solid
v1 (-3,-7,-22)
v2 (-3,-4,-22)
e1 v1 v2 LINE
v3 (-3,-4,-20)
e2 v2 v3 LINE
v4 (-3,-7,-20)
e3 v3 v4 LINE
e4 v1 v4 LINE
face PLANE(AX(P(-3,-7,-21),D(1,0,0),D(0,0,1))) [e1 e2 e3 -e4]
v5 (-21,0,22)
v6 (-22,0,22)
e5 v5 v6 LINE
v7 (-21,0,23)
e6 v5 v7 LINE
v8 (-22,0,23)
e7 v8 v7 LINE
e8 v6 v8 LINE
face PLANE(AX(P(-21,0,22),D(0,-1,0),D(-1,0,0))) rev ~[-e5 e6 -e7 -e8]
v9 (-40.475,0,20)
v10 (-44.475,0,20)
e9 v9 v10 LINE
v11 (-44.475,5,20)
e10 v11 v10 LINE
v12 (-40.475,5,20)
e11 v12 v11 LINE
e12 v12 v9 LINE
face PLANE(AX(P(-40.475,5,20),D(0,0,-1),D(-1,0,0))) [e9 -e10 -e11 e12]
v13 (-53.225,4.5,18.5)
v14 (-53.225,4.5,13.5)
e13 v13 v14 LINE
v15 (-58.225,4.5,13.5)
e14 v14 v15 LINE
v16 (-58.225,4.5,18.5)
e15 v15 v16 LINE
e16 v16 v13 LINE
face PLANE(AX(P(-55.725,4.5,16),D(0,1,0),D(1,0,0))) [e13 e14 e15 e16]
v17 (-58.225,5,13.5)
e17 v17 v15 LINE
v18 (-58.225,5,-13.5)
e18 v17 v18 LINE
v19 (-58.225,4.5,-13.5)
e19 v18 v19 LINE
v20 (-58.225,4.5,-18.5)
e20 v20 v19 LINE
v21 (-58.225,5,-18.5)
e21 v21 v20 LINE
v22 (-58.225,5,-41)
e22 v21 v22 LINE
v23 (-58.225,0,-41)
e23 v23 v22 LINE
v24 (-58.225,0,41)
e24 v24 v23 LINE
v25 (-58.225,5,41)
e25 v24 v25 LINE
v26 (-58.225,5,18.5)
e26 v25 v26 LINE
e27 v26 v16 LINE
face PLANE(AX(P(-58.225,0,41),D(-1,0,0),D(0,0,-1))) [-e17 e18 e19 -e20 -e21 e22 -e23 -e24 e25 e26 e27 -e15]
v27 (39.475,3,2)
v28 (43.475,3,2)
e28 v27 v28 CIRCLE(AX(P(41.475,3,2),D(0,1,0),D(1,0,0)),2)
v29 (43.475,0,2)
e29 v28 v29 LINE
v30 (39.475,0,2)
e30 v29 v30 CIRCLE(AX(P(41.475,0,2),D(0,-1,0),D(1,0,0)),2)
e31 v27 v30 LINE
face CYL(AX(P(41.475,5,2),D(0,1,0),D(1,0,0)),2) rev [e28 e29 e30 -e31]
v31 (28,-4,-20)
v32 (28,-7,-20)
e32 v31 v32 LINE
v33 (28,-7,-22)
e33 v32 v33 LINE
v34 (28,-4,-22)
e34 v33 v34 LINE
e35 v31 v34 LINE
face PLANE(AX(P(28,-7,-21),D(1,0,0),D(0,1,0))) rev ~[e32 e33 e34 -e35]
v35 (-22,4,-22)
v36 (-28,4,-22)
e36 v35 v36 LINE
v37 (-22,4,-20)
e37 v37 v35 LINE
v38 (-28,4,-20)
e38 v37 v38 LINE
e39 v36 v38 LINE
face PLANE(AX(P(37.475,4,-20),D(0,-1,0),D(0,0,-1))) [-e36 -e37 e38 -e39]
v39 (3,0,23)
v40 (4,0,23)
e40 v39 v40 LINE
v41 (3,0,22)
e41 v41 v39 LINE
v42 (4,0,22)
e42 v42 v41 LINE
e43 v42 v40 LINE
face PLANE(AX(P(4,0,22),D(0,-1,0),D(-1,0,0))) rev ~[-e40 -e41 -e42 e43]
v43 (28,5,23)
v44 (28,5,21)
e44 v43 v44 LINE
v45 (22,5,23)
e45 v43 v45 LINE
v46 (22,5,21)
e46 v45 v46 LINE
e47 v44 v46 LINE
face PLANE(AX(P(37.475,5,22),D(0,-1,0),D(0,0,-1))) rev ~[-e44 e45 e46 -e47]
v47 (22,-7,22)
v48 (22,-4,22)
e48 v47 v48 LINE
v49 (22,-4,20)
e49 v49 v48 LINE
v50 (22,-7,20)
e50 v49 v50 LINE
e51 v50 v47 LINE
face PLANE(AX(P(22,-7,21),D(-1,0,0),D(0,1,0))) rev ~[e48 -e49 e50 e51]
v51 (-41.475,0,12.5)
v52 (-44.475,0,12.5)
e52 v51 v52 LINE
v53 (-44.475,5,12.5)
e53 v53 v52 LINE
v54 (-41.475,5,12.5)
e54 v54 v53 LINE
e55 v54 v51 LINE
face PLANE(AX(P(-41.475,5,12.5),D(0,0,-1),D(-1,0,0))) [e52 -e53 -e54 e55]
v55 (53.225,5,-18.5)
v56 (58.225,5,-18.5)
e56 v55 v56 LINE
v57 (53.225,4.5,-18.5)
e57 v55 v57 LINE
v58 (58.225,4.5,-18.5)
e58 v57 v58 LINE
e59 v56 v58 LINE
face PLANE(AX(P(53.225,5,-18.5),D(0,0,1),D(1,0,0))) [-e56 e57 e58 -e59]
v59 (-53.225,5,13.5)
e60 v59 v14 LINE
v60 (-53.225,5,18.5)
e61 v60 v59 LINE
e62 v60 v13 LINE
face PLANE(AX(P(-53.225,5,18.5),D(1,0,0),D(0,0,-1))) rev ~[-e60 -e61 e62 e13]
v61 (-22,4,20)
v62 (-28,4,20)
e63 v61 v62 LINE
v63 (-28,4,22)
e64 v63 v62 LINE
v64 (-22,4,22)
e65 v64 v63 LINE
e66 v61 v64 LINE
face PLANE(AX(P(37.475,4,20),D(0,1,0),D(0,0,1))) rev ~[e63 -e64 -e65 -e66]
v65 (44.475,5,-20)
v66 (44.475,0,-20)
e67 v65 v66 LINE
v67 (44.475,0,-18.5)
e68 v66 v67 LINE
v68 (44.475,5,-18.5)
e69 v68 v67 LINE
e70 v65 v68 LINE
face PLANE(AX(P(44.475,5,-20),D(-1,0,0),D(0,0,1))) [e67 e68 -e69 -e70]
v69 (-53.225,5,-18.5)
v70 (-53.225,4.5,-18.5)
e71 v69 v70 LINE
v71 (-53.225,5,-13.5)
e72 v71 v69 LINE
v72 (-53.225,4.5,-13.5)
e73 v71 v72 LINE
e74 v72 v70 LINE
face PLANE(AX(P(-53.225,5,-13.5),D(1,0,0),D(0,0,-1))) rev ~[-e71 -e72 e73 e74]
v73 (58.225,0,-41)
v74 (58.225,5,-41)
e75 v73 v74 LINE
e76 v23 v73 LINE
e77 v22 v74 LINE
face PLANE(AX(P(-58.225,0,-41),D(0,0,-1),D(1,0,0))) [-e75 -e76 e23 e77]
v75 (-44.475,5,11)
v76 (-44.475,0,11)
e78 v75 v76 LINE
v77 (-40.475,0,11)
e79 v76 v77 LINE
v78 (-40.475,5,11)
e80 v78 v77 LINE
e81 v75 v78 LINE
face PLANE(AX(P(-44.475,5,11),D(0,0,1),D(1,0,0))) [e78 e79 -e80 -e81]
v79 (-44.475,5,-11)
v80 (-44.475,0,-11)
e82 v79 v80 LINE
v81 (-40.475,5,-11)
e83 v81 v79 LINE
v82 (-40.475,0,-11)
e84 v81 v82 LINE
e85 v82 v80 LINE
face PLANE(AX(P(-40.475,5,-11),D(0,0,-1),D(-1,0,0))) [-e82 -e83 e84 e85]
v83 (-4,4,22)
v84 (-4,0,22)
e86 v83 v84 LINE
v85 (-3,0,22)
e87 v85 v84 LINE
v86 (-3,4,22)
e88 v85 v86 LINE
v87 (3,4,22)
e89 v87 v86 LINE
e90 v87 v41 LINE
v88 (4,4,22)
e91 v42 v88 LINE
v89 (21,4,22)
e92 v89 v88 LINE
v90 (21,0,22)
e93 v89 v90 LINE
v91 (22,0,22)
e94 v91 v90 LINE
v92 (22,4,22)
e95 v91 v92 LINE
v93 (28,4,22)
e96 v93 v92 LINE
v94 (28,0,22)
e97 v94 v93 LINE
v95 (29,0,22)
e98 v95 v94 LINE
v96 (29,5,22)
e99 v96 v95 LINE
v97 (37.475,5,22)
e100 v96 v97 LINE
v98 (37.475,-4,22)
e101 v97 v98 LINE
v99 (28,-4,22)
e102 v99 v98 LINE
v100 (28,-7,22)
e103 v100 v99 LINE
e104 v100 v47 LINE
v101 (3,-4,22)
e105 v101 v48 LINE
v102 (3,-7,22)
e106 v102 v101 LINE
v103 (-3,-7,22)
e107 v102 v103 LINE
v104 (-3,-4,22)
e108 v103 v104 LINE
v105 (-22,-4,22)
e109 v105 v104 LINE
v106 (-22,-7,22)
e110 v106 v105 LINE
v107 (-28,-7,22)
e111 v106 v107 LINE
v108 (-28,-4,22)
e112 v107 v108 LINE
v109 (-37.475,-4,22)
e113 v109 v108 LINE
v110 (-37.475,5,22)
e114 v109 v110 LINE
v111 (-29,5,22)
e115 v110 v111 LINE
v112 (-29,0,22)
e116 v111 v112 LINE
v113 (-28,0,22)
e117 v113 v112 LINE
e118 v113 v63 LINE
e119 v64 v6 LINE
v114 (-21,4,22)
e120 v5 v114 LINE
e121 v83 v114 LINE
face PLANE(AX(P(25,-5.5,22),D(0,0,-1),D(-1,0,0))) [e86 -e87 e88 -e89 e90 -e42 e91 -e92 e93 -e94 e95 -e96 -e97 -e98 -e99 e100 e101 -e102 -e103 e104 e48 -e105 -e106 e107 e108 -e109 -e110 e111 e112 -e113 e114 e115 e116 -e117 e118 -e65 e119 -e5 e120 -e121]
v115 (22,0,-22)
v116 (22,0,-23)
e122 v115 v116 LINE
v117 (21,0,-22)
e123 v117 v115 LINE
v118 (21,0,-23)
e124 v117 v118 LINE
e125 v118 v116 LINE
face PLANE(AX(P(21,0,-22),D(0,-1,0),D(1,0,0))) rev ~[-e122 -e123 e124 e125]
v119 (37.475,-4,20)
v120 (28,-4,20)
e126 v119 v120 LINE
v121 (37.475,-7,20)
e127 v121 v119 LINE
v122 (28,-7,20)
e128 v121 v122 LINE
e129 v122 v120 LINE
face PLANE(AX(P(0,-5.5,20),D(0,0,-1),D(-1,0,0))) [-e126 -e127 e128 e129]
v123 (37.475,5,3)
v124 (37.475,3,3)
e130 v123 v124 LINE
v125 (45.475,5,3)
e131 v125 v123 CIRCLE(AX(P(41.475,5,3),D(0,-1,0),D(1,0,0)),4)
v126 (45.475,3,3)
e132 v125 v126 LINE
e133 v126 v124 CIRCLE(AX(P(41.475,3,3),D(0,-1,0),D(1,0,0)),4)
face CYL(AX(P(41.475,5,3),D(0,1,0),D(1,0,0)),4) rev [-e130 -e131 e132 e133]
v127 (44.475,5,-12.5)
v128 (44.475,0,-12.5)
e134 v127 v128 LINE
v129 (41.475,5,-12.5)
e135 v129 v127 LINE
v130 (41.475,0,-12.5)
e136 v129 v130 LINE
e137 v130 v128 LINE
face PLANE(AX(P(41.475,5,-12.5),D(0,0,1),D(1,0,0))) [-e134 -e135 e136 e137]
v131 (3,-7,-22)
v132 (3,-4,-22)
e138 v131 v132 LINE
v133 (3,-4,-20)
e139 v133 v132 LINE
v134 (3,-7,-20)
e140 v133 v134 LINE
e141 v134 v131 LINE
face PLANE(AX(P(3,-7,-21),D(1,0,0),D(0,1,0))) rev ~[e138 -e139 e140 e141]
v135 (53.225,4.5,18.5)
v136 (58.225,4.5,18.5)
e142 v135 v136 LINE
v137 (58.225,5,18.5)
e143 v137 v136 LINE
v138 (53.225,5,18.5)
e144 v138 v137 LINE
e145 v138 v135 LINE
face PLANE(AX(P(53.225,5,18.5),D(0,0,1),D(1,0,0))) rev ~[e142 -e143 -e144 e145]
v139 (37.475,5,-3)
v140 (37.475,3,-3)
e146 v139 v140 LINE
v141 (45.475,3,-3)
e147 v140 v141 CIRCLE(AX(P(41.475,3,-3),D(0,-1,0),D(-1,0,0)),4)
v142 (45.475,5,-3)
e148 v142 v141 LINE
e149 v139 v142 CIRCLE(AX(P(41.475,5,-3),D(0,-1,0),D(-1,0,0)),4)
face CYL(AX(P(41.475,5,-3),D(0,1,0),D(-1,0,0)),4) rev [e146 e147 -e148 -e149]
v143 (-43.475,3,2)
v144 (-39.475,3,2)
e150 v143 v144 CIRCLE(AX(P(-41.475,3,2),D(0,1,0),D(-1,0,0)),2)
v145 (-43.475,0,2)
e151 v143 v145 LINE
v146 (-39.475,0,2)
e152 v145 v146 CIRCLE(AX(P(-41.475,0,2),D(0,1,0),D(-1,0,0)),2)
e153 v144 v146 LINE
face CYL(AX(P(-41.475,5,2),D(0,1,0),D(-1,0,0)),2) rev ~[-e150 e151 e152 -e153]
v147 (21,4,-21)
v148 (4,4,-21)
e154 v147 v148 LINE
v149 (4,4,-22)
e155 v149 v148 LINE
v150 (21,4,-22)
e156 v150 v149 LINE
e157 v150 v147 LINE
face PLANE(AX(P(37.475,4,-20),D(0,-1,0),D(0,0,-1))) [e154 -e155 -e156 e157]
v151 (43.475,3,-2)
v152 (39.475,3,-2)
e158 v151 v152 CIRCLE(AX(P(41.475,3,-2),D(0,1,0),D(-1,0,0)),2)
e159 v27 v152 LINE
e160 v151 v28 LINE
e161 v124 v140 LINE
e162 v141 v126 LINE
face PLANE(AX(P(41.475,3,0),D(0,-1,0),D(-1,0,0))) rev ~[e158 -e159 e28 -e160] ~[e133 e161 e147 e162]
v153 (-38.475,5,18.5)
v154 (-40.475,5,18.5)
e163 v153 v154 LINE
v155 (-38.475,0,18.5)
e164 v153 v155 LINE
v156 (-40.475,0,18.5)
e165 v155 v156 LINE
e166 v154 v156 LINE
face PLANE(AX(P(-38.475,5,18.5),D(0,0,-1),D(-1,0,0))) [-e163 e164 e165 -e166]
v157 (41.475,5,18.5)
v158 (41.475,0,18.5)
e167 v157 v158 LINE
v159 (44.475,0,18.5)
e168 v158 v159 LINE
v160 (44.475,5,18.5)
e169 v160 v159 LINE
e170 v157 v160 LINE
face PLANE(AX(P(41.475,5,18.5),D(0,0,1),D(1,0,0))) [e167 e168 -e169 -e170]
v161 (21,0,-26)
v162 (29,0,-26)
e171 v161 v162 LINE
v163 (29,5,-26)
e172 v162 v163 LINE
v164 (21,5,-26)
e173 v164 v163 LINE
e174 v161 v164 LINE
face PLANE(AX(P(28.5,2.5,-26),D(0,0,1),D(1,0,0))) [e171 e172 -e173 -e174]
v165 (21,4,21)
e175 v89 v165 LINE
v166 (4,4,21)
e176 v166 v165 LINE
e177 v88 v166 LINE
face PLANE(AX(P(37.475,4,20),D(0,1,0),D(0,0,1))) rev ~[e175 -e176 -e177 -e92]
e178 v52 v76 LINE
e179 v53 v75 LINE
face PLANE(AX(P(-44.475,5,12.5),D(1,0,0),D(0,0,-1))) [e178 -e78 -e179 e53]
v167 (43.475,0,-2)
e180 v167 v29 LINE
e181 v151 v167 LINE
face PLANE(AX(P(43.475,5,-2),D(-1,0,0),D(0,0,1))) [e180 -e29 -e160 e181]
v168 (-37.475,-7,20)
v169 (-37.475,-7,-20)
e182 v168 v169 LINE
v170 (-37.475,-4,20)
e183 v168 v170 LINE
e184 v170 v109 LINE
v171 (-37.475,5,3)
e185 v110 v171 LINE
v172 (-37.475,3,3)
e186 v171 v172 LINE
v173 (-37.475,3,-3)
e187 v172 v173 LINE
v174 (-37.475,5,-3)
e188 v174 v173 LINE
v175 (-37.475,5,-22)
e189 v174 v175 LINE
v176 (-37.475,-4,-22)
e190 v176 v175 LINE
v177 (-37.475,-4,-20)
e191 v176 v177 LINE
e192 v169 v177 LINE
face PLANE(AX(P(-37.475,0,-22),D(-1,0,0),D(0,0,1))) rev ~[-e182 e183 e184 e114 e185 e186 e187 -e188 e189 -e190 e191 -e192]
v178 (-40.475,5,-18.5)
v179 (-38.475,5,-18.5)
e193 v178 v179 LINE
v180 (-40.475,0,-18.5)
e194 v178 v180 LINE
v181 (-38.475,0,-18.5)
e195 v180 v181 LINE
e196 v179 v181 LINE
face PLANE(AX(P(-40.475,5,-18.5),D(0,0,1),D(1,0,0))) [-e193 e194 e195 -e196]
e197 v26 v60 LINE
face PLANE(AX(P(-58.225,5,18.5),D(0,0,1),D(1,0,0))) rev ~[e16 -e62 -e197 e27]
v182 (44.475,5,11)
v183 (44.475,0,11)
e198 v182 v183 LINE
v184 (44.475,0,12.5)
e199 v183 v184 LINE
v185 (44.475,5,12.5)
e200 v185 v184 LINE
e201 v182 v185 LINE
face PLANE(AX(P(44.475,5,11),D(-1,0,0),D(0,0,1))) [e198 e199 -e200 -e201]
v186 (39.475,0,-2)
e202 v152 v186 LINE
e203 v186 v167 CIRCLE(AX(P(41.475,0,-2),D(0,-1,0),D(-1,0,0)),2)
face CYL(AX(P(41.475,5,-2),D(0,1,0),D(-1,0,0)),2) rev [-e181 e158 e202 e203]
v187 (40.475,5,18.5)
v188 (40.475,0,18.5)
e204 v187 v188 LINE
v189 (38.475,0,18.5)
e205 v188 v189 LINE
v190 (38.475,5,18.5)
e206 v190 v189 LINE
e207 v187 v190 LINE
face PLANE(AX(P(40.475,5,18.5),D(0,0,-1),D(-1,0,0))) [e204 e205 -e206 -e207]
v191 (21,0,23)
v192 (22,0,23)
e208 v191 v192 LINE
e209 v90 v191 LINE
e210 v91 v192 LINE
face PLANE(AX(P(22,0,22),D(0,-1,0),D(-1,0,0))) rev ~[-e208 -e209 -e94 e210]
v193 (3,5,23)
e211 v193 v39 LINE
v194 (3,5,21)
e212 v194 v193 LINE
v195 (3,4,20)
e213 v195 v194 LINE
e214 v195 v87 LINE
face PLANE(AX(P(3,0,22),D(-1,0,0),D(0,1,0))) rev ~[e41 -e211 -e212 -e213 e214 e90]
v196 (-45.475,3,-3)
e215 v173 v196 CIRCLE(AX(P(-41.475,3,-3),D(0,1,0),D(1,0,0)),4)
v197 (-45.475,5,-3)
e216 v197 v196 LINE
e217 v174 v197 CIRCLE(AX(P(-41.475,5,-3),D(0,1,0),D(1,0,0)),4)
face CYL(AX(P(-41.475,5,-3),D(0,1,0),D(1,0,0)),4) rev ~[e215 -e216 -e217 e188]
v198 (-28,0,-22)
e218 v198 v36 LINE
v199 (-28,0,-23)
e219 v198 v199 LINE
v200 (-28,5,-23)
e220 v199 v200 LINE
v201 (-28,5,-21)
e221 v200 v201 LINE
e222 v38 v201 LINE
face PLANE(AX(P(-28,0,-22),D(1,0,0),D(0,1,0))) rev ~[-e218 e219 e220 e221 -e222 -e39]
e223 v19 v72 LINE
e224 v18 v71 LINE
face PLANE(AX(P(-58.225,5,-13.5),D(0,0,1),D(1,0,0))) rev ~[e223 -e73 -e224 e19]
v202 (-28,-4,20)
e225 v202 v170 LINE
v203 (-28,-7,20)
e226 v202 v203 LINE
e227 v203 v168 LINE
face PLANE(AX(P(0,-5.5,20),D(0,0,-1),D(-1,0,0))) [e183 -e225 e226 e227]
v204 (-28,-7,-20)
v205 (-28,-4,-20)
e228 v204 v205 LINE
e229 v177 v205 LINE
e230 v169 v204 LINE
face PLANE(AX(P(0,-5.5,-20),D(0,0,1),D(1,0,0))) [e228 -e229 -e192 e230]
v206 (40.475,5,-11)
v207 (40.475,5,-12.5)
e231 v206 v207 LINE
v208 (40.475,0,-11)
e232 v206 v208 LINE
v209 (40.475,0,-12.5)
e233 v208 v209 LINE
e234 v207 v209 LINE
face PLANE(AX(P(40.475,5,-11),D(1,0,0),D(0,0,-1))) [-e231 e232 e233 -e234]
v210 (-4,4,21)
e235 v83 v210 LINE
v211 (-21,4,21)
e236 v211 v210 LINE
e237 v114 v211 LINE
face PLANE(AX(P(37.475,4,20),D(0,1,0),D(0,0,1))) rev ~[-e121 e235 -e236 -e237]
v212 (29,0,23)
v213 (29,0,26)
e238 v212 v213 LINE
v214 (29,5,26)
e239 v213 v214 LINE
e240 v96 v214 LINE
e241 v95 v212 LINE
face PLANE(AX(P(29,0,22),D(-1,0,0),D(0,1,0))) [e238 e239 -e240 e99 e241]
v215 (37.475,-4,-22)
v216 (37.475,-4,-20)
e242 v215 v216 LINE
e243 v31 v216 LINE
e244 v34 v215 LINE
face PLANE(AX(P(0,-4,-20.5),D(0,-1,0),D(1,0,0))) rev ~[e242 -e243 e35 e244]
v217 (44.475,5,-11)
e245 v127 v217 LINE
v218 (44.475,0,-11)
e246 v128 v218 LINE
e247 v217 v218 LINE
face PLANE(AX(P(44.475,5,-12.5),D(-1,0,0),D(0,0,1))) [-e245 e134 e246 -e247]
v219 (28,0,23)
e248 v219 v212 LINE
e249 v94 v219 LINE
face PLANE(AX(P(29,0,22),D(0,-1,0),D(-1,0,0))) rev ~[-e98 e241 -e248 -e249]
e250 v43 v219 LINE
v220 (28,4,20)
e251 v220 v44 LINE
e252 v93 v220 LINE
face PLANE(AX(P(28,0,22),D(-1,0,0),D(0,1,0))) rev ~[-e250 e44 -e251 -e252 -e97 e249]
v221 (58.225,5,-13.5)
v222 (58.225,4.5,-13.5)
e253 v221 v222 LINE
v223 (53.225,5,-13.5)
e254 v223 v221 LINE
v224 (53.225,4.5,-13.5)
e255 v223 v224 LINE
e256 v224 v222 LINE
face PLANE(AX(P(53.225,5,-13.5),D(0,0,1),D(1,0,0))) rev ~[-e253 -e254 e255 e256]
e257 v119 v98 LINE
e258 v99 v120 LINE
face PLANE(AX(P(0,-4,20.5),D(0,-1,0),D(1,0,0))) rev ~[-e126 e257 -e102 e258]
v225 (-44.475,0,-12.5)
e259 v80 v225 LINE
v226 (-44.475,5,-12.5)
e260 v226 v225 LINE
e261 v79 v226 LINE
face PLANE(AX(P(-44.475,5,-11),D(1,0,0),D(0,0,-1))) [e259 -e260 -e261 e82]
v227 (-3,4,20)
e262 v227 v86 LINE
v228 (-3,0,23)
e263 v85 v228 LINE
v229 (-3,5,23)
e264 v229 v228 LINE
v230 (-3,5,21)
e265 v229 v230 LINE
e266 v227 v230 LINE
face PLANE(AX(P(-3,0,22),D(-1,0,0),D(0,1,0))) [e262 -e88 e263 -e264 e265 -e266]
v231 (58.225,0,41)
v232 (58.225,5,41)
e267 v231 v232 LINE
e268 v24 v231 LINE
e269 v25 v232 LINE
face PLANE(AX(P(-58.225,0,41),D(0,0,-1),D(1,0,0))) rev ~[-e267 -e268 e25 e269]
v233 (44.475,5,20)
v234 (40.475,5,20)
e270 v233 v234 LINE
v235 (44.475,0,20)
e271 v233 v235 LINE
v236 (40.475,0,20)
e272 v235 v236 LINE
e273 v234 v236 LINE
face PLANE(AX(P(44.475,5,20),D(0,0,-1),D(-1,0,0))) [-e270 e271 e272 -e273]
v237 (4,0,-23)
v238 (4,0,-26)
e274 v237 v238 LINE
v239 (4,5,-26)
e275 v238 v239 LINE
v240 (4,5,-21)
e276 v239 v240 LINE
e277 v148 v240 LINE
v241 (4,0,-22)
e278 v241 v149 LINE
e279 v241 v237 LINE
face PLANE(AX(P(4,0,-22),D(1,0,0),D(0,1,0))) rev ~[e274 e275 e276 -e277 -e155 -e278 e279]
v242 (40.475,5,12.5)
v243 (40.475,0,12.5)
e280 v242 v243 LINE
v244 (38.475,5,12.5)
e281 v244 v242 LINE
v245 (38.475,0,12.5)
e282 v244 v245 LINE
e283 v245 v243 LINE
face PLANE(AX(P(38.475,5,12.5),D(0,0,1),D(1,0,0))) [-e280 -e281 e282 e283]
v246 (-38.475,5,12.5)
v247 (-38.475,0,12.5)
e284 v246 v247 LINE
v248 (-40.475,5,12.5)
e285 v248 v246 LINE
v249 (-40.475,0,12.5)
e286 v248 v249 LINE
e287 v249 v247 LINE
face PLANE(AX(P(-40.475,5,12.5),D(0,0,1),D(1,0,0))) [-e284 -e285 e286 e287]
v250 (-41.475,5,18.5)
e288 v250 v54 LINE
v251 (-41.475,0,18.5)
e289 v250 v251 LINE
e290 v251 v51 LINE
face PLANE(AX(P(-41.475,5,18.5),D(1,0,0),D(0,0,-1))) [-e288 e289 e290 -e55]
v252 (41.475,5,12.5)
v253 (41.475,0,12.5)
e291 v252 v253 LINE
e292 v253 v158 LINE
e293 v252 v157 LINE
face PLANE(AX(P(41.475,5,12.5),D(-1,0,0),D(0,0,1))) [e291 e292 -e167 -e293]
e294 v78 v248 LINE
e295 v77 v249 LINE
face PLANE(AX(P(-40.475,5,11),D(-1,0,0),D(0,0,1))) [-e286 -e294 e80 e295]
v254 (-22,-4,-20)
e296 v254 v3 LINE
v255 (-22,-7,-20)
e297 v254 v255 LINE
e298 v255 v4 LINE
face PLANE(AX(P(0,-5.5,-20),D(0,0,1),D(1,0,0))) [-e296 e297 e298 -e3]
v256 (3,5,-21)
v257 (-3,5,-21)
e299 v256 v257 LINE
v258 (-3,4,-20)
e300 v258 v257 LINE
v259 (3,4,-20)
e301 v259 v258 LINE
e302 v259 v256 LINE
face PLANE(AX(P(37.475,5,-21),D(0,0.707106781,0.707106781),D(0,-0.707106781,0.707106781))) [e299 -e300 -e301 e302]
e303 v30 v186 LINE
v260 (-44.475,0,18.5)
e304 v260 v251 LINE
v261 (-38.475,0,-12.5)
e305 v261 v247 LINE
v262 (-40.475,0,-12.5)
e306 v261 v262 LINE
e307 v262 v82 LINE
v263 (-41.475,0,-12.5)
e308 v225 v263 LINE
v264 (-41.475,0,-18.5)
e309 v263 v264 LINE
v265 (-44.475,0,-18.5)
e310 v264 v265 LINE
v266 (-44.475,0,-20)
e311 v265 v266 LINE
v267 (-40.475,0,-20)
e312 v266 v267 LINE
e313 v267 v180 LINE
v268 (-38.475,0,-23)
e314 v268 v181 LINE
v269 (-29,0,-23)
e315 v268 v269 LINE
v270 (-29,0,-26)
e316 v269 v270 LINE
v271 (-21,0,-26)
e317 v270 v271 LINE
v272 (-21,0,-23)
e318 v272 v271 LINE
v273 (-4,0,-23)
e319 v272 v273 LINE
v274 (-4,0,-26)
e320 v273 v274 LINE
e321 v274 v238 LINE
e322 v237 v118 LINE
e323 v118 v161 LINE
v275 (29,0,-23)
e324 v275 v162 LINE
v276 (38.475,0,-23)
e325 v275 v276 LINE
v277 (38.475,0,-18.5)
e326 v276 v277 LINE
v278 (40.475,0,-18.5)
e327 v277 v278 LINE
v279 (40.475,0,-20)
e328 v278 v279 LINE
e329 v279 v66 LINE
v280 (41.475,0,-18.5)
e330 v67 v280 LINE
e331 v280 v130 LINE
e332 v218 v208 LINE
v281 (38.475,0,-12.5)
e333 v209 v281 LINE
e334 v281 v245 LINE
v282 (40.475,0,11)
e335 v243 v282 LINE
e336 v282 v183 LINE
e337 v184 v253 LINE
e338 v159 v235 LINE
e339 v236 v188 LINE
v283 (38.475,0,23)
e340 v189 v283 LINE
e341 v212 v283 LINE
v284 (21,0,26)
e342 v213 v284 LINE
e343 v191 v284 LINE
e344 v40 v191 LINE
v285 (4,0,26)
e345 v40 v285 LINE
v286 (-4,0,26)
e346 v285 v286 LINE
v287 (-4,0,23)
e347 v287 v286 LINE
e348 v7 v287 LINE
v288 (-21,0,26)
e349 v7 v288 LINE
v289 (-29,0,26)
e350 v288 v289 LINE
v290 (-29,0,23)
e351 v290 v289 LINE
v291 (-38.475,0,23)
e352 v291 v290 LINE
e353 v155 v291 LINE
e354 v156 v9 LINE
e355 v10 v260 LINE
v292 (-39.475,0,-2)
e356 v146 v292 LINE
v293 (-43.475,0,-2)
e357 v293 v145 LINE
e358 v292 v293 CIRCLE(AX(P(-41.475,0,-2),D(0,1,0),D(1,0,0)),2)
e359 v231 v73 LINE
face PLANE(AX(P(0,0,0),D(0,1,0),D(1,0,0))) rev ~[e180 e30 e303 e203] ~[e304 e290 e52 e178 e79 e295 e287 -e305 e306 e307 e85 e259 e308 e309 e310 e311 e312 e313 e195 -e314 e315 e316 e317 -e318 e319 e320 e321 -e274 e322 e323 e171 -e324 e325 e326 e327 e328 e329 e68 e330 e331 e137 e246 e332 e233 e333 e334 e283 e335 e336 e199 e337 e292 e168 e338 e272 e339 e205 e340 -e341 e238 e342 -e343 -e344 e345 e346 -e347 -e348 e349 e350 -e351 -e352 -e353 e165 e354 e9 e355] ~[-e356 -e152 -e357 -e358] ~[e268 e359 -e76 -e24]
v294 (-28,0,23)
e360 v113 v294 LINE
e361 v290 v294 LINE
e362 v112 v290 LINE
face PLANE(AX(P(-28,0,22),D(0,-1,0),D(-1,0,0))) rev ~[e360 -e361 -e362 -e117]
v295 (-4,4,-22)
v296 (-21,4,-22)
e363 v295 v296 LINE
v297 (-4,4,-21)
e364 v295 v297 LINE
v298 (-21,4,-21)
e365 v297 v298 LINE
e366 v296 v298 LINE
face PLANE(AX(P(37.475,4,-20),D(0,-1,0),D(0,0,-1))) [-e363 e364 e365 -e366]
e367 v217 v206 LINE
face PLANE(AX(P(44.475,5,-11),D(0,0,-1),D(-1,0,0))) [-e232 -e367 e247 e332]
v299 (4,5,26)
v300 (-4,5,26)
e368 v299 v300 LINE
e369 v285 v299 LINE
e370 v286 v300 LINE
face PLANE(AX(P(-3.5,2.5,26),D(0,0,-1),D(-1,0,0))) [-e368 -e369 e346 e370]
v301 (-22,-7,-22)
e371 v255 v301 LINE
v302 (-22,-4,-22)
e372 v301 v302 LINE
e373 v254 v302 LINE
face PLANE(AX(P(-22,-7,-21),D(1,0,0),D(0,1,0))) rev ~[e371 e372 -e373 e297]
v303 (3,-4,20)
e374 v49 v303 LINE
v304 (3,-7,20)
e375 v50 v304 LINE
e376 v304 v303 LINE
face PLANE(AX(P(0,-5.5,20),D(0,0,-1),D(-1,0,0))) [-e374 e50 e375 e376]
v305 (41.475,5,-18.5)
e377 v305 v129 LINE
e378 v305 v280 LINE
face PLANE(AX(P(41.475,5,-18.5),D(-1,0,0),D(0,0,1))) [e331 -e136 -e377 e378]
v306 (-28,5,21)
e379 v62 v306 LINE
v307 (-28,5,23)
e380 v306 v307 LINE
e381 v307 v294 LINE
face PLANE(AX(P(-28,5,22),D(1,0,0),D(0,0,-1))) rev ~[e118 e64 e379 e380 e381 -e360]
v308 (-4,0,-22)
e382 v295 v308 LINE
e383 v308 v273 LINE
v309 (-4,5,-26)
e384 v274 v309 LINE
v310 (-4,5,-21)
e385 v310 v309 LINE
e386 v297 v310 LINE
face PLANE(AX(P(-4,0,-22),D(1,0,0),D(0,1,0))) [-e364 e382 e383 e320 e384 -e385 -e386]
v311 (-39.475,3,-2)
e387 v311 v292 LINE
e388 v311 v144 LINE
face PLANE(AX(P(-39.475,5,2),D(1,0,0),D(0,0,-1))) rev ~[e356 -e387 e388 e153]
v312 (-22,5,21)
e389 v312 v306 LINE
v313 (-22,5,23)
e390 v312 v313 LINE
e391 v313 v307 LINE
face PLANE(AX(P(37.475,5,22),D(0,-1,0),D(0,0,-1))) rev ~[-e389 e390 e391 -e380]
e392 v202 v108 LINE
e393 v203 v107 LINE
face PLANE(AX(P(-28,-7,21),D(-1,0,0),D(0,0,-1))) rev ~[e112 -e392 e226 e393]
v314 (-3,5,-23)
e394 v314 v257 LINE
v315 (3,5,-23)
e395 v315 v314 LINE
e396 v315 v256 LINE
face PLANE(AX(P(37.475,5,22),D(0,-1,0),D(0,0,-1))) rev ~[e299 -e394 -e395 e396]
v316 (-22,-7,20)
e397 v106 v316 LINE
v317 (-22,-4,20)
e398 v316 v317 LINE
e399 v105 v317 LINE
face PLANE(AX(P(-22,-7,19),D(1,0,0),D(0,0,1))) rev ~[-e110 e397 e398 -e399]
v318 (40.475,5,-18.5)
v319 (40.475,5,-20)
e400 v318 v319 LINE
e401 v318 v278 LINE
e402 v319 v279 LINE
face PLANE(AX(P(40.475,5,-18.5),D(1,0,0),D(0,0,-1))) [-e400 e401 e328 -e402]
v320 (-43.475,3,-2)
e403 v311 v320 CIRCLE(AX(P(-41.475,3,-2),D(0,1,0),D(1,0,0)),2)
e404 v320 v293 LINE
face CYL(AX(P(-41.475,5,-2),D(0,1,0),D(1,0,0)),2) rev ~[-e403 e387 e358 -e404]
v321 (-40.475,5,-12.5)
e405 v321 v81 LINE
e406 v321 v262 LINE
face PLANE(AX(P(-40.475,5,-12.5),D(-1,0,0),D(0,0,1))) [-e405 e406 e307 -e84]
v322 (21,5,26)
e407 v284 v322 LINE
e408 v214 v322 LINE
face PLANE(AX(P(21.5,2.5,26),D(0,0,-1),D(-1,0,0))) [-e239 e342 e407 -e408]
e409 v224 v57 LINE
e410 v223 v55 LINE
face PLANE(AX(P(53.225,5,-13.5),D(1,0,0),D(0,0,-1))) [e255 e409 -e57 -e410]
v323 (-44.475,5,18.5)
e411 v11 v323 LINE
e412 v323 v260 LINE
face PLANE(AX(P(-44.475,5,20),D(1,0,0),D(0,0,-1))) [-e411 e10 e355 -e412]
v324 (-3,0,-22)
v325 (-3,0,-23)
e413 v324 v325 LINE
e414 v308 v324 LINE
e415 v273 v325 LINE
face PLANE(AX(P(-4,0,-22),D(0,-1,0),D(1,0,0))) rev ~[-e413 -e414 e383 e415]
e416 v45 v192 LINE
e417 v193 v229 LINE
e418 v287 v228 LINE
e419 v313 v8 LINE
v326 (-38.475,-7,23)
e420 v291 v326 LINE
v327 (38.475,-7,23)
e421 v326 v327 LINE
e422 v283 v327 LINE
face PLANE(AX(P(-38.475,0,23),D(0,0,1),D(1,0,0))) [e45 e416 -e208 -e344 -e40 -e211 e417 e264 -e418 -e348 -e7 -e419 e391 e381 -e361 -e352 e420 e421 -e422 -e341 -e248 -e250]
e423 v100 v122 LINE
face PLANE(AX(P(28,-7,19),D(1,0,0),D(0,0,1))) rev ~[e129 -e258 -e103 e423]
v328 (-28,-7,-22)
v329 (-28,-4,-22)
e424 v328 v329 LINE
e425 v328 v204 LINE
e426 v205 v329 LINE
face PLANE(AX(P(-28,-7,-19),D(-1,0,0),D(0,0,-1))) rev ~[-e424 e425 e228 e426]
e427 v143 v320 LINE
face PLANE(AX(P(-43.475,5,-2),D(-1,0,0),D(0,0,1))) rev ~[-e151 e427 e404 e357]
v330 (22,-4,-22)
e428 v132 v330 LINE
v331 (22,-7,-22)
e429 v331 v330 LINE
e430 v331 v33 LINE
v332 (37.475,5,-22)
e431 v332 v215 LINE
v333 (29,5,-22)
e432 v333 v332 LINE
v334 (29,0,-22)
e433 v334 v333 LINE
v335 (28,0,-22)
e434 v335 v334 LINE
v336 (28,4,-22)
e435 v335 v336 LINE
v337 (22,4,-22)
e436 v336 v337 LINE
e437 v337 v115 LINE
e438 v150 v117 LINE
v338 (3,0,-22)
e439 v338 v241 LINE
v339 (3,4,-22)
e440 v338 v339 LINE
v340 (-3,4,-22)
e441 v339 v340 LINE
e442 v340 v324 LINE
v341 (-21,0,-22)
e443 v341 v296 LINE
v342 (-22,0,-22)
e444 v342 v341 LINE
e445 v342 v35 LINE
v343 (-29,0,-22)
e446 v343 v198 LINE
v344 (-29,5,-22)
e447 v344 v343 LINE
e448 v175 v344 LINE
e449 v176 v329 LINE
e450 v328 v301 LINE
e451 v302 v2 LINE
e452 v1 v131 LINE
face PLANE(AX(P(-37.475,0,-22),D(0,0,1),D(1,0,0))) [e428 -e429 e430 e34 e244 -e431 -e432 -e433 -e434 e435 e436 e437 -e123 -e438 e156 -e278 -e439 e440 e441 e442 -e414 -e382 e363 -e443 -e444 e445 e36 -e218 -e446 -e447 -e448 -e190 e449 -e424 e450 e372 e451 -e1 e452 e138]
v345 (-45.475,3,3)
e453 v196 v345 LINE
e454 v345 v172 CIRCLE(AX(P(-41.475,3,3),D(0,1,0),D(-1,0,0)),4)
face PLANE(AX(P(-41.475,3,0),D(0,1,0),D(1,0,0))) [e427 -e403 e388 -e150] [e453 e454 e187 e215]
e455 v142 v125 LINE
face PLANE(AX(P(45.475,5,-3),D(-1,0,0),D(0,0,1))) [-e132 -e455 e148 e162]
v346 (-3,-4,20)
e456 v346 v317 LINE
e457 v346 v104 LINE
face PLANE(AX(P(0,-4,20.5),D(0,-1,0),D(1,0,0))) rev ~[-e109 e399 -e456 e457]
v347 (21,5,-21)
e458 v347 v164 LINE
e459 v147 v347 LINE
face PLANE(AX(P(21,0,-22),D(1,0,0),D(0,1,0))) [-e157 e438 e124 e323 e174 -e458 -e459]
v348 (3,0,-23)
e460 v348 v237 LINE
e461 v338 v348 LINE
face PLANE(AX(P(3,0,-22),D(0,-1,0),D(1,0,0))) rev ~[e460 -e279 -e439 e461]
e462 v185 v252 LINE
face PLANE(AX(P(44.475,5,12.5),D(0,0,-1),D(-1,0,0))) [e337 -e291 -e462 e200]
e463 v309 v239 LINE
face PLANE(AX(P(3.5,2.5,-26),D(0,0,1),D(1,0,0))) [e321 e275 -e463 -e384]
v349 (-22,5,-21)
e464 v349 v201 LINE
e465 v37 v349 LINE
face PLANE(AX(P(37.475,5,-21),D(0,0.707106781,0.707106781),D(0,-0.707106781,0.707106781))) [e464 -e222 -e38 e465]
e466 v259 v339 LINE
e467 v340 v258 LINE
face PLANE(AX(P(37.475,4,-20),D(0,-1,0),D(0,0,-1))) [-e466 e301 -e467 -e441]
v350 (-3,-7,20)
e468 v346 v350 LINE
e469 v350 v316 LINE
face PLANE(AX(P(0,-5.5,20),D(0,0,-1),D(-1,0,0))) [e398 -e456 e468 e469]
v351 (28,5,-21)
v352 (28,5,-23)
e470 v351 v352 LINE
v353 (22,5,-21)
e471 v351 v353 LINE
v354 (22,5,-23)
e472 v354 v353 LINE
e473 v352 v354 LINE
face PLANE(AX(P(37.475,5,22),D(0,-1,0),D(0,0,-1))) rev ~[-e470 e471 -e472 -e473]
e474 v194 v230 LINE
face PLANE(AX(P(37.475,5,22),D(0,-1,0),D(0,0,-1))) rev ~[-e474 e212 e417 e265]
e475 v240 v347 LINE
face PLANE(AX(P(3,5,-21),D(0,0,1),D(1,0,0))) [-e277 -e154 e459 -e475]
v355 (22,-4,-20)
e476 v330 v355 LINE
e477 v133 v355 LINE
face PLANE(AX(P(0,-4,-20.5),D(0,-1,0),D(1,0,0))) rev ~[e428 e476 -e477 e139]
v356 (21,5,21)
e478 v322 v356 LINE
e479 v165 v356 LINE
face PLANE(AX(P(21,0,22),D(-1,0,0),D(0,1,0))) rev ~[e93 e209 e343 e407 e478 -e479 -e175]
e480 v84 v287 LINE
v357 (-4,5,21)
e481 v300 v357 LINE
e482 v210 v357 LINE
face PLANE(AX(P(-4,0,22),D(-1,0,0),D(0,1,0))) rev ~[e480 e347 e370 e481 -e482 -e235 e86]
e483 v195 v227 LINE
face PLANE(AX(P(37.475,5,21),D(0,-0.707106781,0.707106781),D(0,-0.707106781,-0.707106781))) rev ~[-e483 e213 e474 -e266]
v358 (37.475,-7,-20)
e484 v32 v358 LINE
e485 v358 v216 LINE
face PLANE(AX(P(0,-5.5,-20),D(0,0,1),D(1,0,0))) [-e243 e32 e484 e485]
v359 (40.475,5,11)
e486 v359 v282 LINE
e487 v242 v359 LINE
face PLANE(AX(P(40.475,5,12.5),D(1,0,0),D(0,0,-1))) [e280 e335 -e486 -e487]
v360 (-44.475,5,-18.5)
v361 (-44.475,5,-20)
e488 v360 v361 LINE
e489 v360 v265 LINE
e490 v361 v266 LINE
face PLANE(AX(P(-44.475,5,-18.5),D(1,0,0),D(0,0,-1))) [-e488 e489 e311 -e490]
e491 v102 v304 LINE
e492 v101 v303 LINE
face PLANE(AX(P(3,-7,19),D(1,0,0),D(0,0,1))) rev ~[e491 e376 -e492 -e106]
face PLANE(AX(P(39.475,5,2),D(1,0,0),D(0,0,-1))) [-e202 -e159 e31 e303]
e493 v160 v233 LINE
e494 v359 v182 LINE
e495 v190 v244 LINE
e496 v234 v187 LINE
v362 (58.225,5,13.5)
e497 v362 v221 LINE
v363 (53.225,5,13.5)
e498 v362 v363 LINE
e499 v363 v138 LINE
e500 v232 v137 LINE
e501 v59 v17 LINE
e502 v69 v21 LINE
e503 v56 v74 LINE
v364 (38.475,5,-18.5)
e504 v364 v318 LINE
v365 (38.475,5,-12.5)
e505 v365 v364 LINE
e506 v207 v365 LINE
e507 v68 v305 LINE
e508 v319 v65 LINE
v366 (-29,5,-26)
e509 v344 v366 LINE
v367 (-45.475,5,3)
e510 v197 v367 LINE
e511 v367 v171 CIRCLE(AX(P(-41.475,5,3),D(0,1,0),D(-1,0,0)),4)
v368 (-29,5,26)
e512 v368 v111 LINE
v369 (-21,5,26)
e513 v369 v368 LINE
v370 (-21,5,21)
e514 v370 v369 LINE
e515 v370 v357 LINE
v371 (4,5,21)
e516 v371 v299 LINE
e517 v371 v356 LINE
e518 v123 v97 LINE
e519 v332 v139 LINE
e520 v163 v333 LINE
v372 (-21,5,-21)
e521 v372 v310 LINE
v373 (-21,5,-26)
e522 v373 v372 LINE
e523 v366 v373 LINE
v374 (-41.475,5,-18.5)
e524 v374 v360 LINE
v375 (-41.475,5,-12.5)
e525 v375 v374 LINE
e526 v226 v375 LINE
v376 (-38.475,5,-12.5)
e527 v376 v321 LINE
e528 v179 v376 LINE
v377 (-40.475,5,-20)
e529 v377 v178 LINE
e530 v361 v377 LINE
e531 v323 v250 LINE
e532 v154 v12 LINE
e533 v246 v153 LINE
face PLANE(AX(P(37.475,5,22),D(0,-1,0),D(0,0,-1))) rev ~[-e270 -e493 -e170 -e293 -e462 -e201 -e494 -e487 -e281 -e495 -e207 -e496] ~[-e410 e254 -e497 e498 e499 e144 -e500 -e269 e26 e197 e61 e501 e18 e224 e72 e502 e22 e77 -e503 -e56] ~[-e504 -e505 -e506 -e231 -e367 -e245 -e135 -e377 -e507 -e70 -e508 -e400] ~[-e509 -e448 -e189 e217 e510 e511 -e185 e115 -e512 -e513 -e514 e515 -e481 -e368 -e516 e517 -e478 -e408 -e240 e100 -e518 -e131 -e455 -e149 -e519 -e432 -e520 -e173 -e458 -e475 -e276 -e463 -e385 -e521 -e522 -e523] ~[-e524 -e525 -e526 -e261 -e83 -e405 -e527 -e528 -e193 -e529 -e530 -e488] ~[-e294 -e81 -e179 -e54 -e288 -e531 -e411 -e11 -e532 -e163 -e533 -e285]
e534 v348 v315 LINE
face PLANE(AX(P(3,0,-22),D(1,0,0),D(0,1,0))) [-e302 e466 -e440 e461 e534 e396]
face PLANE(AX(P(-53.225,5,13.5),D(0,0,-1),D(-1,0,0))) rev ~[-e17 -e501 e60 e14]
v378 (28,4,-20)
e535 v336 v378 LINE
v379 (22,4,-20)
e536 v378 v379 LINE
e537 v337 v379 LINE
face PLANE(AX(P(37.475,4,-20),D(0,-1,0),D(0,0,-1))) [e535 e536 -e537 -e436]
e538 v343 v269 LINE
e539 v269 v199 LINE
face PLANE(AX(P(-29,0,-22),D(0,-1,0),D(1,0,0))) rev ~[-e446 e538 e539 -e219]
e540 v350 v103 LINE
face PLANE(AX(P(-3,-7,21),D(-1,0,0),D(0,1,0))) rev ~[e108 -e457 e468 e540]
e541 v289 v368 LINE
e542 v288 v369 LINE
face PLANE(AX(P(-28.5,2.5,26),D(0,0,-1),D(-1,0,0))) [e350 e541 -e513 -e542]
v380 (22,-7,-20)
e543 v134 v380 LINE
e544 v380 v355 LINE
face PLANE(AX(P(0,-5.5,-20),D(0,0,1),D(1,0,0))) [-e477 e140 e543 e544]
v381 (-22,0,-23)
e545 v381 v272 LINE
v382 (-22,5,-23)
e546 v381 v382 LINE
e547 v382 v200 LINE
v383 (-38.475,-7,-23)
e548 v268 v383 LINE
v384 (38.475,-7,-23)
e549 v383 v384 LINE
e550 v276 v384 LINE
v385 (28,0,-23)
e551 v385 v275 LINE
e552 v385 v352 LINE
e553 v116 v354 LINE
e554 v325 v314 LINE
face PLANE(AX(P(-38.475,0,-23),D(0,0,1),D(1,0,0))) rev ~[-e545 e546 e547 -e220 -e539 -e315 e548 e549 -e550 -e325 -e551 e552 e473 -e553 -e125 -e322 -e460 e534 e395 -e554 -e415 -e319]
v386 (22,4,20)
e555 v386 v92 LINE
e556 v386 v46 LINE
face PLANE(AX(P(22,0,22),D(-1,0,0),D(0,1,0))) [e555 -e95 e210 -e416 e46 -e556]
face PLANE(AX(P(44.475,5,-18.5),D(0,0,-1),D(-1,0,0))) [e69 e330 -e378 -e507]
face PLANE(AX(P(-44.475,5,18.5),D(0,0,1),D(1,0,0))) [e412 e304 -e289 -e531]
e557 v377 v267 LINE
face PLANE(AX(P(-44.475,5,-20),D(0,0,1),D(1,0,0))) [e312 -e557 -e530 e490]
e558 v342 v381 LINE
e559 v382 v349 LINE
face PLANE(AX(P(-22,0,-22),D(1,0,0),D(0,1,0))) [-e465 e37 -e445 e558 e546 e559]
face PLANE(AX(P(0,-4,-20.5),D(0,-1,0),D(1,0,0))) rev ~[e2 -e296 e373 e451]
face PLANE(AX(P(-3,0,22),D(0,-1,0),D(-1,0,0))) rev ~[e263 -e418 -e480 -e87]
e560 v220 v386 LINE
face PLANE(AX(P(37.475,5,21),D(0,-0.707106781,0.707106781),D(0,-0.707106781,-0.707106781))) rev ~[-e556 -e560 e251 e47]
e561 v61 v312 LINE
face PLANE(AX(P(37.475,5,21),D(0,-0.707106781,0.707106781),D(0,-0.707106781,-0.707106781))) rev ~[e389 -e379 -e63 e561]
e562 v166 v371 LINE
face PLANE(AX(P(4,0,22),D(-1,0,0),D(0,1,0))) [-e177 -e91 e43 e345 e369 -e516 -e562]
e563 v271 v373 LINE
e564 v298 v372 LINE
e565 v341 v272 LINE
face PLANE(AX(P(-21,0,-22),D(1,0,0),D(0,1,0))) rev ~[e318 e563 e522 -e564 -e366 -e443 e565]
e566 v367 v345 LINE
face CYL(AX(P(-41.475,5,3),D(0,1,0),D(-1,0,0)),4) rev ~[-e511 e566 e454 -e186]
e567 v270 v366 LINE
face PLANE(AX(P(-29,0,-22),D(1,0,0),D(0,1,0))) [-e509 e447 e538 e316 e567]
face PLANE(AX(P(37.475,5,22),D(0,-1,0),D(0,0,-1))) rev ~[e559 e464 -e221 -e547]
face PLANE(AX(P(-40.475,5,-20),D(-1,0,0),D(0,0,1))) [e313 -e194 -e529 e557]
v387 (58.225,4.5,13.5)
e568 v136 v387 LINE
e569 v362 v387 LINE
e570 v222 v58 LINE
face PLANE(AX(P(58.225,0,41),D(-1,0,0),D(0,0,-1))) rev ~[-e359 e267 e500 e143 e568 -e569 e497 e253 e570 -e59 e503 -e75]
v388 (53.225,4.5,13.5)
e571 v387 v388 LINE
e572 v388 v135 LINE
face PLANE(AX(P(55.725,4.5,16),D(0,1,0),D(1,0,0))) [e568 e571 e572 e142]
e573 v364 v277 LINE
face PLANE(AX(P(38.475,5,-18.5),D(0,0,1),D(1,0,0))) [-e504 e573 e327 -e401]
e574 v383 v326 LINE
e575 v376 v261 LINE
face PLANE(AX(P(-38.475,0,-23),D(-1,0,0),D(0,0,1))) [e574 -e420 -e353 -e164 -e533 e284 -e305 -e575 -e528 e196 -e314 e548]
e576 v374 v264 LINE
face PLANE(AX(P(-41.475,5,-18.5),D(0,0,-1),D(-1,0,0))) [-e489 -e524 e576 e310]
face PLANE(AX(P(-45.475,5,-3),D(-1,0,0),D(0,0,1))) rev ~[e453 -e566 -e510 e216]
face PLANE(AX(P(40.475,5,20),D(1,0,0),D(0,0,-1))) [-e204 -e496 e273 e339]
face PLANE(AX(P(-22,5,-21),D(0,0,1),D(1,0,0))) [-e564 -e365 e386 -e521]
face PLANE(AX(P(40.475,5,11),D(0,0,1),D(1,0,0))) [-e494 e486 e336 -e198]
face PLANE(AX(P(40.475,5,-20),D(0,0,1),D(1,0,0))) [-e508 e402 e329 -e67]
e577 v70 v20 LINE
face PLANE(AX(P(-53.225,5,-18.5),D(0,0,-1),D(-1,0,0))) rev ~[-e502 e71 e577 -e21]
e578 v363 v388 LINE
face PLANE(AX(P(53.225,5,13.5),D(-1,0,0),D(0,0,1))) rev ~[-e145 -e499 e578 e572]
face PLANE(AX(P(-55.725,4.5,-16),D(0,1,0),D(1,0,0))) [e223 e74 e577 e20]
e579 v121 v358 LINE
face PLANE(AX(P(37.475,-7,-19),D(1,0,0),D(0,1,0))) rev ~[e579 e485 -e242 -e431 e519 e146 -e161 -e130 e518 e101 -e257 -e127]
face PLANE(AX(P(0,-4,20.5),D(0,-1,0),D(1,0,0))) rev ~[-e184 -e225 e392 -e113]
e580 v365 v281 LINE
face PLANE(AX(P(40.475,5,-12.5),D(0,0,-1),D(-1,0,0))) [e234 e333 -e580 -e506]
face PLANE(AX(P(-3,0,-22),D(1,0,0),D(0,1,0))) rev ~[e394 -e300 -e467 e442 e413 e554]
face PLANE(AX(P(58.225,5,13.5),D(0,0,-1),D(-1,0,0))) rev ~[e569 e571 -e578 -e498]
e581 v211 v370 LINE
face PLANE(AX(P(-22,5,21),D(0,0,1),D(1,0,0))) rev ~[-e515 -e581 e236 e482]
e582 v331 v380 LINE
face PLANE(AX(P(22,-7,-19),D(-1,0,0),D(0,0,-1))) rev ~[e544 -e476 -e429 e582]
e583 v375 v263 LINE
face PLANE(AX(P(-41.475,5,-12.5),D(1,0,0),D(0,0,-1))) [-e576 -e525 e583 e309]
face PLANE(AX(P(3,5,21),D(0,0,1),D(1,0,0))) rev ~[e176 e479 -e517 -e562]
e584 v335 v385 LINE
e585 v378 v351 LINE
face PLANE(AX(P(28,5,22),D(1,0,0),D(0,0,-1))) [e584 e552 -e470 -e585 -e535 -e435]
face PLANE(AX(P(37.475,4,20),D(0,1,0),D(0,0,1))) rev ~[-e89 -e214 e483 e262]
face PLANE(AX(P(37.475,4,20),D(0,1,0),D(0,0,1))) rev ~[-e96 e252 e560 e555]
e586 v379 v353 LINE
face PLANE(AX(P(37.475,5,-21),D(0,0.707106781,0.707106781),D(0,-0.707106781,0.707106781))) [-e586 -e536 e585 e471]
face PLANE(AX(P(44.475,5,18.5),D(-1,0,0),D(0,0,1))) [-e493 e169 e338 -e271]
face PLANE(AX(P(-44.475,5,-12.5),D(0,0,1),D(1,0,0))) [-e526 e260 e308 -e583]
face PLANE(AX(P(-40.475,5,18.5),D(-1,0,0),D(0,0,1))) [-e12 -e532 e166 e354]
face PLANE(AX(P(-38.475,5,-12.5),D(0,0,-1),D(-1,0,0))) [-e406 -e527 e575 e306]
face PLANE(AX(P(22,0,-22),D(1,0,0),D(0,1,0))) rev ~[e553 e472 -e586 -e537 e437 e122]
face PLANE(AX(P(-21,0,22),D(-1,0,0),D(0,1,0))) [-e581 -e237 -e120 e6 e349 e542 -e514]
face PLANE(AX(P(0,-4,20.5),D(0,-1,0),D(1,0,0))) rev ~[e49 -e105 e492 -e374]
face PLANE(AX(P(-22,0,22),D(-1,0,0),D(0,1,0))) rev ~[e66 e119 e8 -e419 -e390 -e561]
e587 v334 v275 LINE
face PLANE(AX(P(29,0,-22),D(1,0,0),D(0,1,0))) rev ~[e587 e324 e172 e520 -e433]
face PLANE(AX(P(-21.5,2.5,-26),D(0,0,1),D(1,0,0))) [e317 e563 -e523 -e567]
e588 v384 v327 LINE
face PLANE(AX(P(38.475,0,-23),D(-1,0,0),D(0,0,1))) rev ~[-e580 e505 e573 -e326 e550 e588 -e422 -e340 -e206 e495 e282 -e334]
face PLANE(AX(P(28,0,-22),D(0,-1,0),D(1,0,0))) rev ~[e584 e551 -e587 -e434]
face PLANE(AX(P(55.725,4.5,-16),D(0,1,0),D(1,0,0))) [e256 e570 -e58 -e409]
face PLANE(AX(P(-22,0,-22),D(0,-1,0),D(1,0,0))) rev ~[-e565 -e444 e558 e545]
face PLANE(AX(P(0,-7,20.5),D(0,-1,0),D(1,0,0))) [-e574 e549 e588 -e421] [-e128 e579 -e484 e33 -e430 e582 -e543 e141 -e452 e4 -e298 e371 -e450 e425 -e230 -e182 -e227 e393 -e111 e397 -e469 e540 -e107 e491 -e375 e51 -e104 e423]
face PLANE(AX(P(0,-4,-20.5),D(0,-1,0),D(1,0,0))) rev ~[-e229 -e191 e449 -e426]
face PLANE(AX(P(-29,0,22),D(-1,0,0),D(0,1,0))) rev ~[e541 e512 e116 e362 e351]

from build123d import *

# Parameters (mm, degrees)
CROQUIS1_W              = 116.45
CROQUIS1_H              = 82
SALIENTE_EXTRUIR2_DEPTH = 5
CROQUIS2_W              = 74.95
CROQUIS2_H              = 44
CORTAR_EXTRUIR1_DEPTH   = 5
CROQUIS3_W              = 76.95
CROQUIS3_H              = 46
CROQUIS3_W_2            = 74.95
CROQUIS3_H_2            = 44
SALIENTE_EXTRUIR3_DEPTH = 7
CROQUIS4_W              = 74.95
CROQUIS4_H              = 3
SALIENTE_EXTRUIR4_DEPTH = 3
CROQUIS5_W              = 3
CROQUIS5_H              = 2
CORTAR_EXTRUIR9_DEPTH   = 3
CROQUIS9_W              = 6
CROQUIS9_H              = 3
CORTAR_EXTRUIR10_DEPTH  = 1
CROQUIS10_W             = 74.95
CROQUIS10_H             = 3
CORTAR_EXTRUIR11_DEPTH  = 1
CROQUIS11_W             = 6
CROQUIS11_H             = 3
CORTAR_EXTRUIR12_DEPTH  = 1
CROQUIS12_W             = 74.95
CROQUIS12_H             = 3
CORTAR_EXTRUIR13_DEPTH  = 1
CROQUIS13_W             = 1
CROQUIS13_H             = 5
CORTAR_EXTRUIR21_DEPTH  = 4
CROQUIS14_W             = 1
CROQUIS14_H             = 5
CORTAR_EXTRUIR22_DEPTH  = 4
CROQUIS15_W             = 8
CROQUIS15_H             = 3
CORTAR_EXTRUIR23_DEPTH  = 16
SALIENTE_EXTRUIR8_DEPTH = 70
SALIENTE_EXTRUIR9_DEPTH = 70
CROQUIS18_W             = 19
CROQUIS18_H             = 42
CORTAR_EXTRUIR24_DEPTH  = 8
CROQUIS19_W             = 9.475
CROQUIS19_H             = 44
CORTAR_EXTRUIR26_DEPTH  = 8
CROQUIS20_W             = 1
CROQUIS20_H             = 44
CORTAR_EXTRUIR27_DEPTH  = 4
CROQUIS21_W             = 5
CROQUIS21_H             = 5
CORTAR_EXTRUIR28_DEPTH  = 0.5
CORTAR_EXTRUIR29_DEPTH  = 5
CORTAR_EXTRUIR30_DEPTH  = 2
CORTAR_EXTRUIR31_DEPTH  = 5


with BuildPart() as part:
    # Croquis1 → Saliente-Extruir2 (new body)
    with BuildSketch(Plane(origin=(0, 0, 0), x_dir=(1, 0, 0), z_dir=(0, 1, 0))):
        Rectangle(CROQUIS1_W, CROQUIS1_H)
    extrude(amount=SALIENTE_EXTRUIR2_DEPTH)

    # Croquis2 → Cortar-Extruir1 (cut)
    with BuildSketch(Plane(origin=(0, 5, 0), x_dir=(1, 0, 0), z_dir=(0, 1, 0))):
        Rectangle(CROQUIS2_W, CROQUIS2_H)
    extrude(amount=-CORTAR_EXTRUIR1_DEPTH, mode=Mode.SUBTRACT)

    # Croquis3 → Saliente-Extruir3 (add)
    with BuildSketch(Plane.XZ):
        Rectangle(CROQUIS3_W, CROQUIS3_H)
        Rectangle(CROQUIS3_W_2, CROQUIS3_H_2, mode=Mode.SUBTRACT)
    extrude(amount=SALIENTE_EXTRUIR3_DEPTH)

    # Croquis4 → Saliente-Extruir4 (add)
    with BuildSketch(Plane.XZ.offset(7)):
        with Locations((0, 20.5)):
            Rectangle(CROQUIS4_W, CROQUIS4_H)
        with Locations((0, -20.5)):
            Rectangle(CROQUIS4_W, CROQUIS4_H)
    extrude(amount=-SALIENTE_EXTRUIR4_DEPTH)

    # Croquis5 → Cortar-Extruir9 (cut)
    with BuildSketch(Plane.XZ.offset(7)):
        Polygon((25, -19), (22, -19), (22, -21), (28, -21), (28, -19), align=None)
        Polygon((22, 21), (22, 19), (25, 19), (28, 19), (28, 21), align=None)
        with Locations((1.5, 20)):
            Rectangle(CROQUIS5_W, CROQUIS5_H)
        with Locations((-1.5, 20)):
            Rectangle(CROQUIS5_W, CROQUIS5_H)
        with Locations((-1.5, -20)):
            Rectangle(CROQUIS5_W, CROQUIS5_H)
        with Locations((1.5, -20)):
            Rectangle(CROQUIS5_W, CROQUIS5_H)
        Polygon((-22, -21), (-22, -19), (-25, -19), (-28, -19), (-28, -21), align=None)
        Polygon((-25, 19), (-22, 19), (-22, 21), (-28, 21), (-28, 19), align=None)
    extrude(amount=-CORTAR_EXTRUIR9_DEPTH, mode=Mode.SUBTRACT)

    # Croquis9 → Cortar-Extruir10 (cut)
    with BuildSketch(Plane(origin=(0, 0, 21), x_dir=(-1, 0, 0), z_dir=(0, 0, -1))):
        with Locations((25, -5.5)):
            Rectangle(CROQUIS9_W, CROQUIS9_H)
        with Locations((0, -5.5)):
            Rectangle(CROQUIS9_W, CROQUIS9_H)
        with Locations((-25, -5.5)):
            Rectangle(CROQUIS9_W, CROQUIS9_H)
    extrude(amount=-CORTAR_EXTRUIR10_DEPTH, mode=Mode.SUBTRACT)

    # Croquis10 → Cortar-Extruir11 (cut)
    with BuildSketch(Plane(origin=(0, 0, 19), x_dir=(-1, 0, 0), z_dir=(0, 0, -1))):
        with Locations((0, -5.5)):
            Rectangle(CROQUIS10_W, CROQUIS10_H)
    extrude(amount=-CORTAR_EXTRUIR11_DEPTH, mode=Mode.SUBTRACT)

    # Croquis11 → Cortar-Extruir12 (cut)
    with BuildSketch(Plane.XY.offset(-21)):
        with Locations((25, -5.5)):
            Rectangle(CROQUIS11_W, CROQUIS11_H)
        with Locations((0, -5.5)):
            Rectangle(CROQUIS11_W, CROQUIS11_H)
        with Locations((-25, -5.5)):
            Rectangle(CROQUIS11_W, CROQUIS11_H)
    extrude(amount=-CORTAR_EXTRUIR12_DEPTH, mode=Mode.SUBTRACT)

    # Croquis12 → Cortar-Extruir13 (cut)
    with BuildSketch(Plane.XY.offset(-19)):
        with Locations((0, -5.5)):
            Rectangle(CROQUIS12_W, CROQUIS12_H)
    extrude(amount=-CORTAR_EXTRUIR13_DEPTH, mode=Mode.SUBTRACT)

    # Croquis13 → Cortar-Extruir21 (cut)
    with BuildSketch(Plane.XY.offset(-22)):
        with Locations((21.5, 2.5)):
            Rectangle(CROQUIS13_W, CROQUIS13_H)
        with Locations((3.5, 2.5)):
            Rectangle(CROQUIS13_W, CROQUIS13_H)
        with Locations((-3.5, 2.5)):
            Rectangle(CROQUIS13_W, CROQUIS13_H)
        with Locations((-28.5, 2.5)):
            Rectangle(CROQUIS13_W, CROQUIS13_H)
        with Locations((-21.5, 2.5)):
            Rectangle(CROQUIS13_W, CROQUIS13_H)
        with Locations((28.5, 2.5)):
            Rectangle(CROQUIS13_W, CROQUIS13_H)
    extrude(amount=-CORTAR_EXTRUIR21_DEPTH, mode=Mode.SUBTRACT)

    # Croquis14 → Cortar-Extruir22 (cut)
    with BuildSketch(Plane(origin=(0, 0, 22), x_dir=(-1, 0, 0), z_dir=(0, 0, -1))):
        with Locations((28.5, 2.5)):
            Rectangle(CROQUIS14_W, CROQUIS14_H)
        with Locations((-21.5, 2.5)):
            Rectangle(CROQUIS14_W, CROQUIS14_H)
        with Locations((21.5, 2.5)):
            Rectangle(CROQUIS14_W, CROQUIS14_H)
        with Locations((3.5, 2.5)):
            Rectangle(CROQUIS14_W, CROQUIS14_H)
        with Locations((-3.5, 2.5)):
            Rectangle(CROQUIS14_W, CROQUIS14_H)
        with Locations((-28.5, 2.5)):
            Rectangle(CROQUIS14_W, CROQUIS14_H)
    extrude(amount=-CORTAR_EXTRUIR22_DEPTH, mode=Mode.SUBTRACT)

    # Croquis15 → Cortar-Extruir23 (cut)
    with BuildSketch(Plane.XZ):
        with Locations((0, 24.5)):
            Rectangle(CROQUIS15_W, CROQUIS15_H)
        with Locations((-25, 24.5)):
            Rectangle(CROQUIS15_W, CROQUIS15_H)
        with Locations((25, 24.5)):
            Rectangle(CROQUIS15_W, CROQUIS15_H)
        with Locations((-25, -24.5)):
            Rectangle(CROQUIS15_W, CROQUIS15_H)
        with Locations((0, -24.5)):
            Rectangle(CROQUIS15_W, CROQUIS15_H)
        with Locations((25, -24.5)):
            Rectangle(CROQUIS15_W, CROQUIS15_H)
    extrude(amount=-CORTAR_EXTRUIR23_DEPTH, mode=Mode.SUBTRACT)

    # Croquis16 → Saliente-Extruir8 (add)
    with BuildSketch(Plane.ZY.offset(-37.475)):
        Polygon((-22, 5), (-21, 5), (-20, 4), (-22, 4), align=None)
    extrude(amount=SALIENTE_EXTRUIR8_DEPTH)

    # Croquis17 → Saliente-Extruir9 (add)
    with BuildSketch(Plane.ZY.offset(-37.475)):
        Polygon((22, 4), (22, 5), (21, 5), (20, 4), (21, 4), align=None)
    extrude(amount=SALIENTE_EXTRUIR9_DEPTH)

    # Croquis18 → Cortar-Extruir24 (cut)
    with BuildSketch(Plane(origin=(0, 5, 0), x_dir=(1, 0, 0), z_dir=(0, 1, 0))):
        with Locations((-12.5, 0)):
            Rectangle(CROQUIS18_W, CROQUIS18_H)
        with Locations((12.5, 0)):
            Rectangle(CROQUIS18_W, CROQUIS18_H)
    extrude(amount=-CORTAR_EXTRUIR24_DEPTH, mode=Mode.SUBTRACT)

    # Croquis19 → Cortar-Extruir26 (cut)
    with BuildSketch(Plane(origin=(0, 5, 0), x_dir=(1, 0, 0), z_dir=(0, 1, 0))):
        with Locations((32.7375, 0)):
            Rectangle(CROQUIS19_W, CROQUIS19_H)
        with Locations((-32.7375, 0)):
            Rectangle(CROQUIS19_W, CROQUIS19_H)
    extrude(amount=-CORTAR_EXTRUIR26_DEPTH, mode=Mode.SUBTRACT)

    # Croquis20 → Cortar-Extruir27 (cut)
    with BuildSketch(Plane(origin=(0, 5, 0), x_dir=(1, 0, 0), z_dir=(0, 1, 0))):
        with Locations((-3.5, 0)):
            Rectangle(CROQUIS20_W, CROQUIS20_H)
        with Locations((-21.5, 0)):
            Rectangle(CROQUIS20_W, CROQUIS20_H)
        with Locations((3.5, 0)):
            Rectangle(CROQUIS20_W, CROQUIS20_H)
        with Locations((21.5, 0)):
            Rectangle(CROQUIS20_W, CROQUIS20_H)
    extrude(amount=-CORTAR_EXTRUIR27_DEPTH, mode=Mode.SUBTRACT)

    # Croquis21 → Cortar-Extruir28 (cut)
    with BuildSketch(Plane(origin=(0, 5, 0), x_dir=(1, 0, 0), z_dir=(0, 1, 0))):
        Polygon((-53.225, -13.5), (-58.225, -13.5), (-58.225, -18.5), (-53.225, -18.5), (-53.225, -16), align=None)
        Polygon((-53.225, 18.5), (-58.225, 18.5), (-58.225, 13.5), (-53.225, 13.5), (-53.225, 16), align=None)
        Polygon((53.225, -18.5), (58.225, -18.5), (58.225, -13.5), (53.225, -13.5), (53.225, -16), align=None)
        with Locations((55.725, 16)):
            Rectangle(CROQUIS21_W, CROQUIS21_H)
    extrude(amount=-CORTAR_EXTRUIR28_DEPTH, mode=Mode.SUBTRACT)

    # Croquis22 → Cortar-Extruir29 (cut)
    with BuildSketch(Plane(origin=(0, 5, 0), x_dir=(1, 0, 0), z_dir=(0, 1, 0))):
        with BuildLine():
            Line((-39.475, -2), (-39.475, 2))
            ThreePointArc((-39.475, 2), (-41.475, 4), (-43.475, 2))
            Line((-43.475, 2), (-43.475, -2))
            ThreePointArc((-43.475, -2), (-41.475, -4), (-39.475, -2))
        make_face()
        with BuildLine():
            ThreePointArc((43.475, -2), (41.475, -4), (39.475, -2))
            Line((39.475, -2), (39.475, 2))
            ThreePointArc((39.475, 2), (41.475, 4), (43.475, 2))
            Line((43.475, 2), (43.475, -2))
        make_face()
    extrude(amount=-CORTAR_EXTRUIR29_DEPTH, mode=Mode.SUBTRACT)

    # Croquis23 → Cortar-Extruir30 (cut)
    with BuildSketch(Plane(origin=(0, 5, 0), x_dir=(1, 0, 0), z_dir=(0, 1, 0))):
        with BuildLine():
            Line((-37.475, 0), (-37.475, 3))
            ThreePointArc((-37.475, 3), (-41.475, 7), (-45.475, 3))
            Line((-45.475, 3), (-45.475, -3))
            ThreePointArc((-45.475, -3), (-41.475, -7), (-37.475, -3))
            Line((-37.475, -3), (-37.475, 0))
        make_face()
        with BuildLine():
            ThreePointArc((45.475, -3), (41.475, -7), (37.475, -3))
            Line((37.475, -3), (37.475, 0))
            Line((37.475, 0), (37.475, 3))
            ThreePointArc((37.475, 3), (41.475, 7), (45.475, 3))
            Line((45.475, 3), (45.475, -3))
        make_face()
    extrude(amount=-CORTAR_EXTRUIR30_DEPTH, mode=Mode.SUBTRACT)

    # Croquis24 → Cortar-Extruir31 (cut)
    with BuildSketch(Plane(origin=(0, 5, 0), x_dir=(1, 0, 0), z_dir=(0, 1, 0))):
        Polygon((-38.475, -12.5), (-38.475, -18.5), (-40.475, -18.5), (-40.475, -20), (-44.475, -20), (-44.475, -18.5), (-41.475, -18.5), (-41.475, -12.5), (-44.475, -12.5), (-44.475, -11), (-40.475, -11), (-40.475, -12.5), align=None)
        Polygon((-38.475, 12.5), (-40.475, 12.5), (-40.475, 11), (-44.475, 11), (-44.475, 12.5), (-41.475, 12.5), (-41.475, 18.5), (-44.475, 18.5), (-44.475, 20), (-40.475, 20), (-40.475, 18.5), (-38.475, 18.5), align=None)
        Polygon((38.475, 12.5), (38.475, 18.5), (40.475, 18.5), (40.475, 20), (44.475, 20), (44.475, 18.5), (41.475, 18.5), (41.475, 12.5), (44.475, 12.5), (44.475, 11), (40.475, 11), (40.475, 12.5), align=None)
        Polygon((38.475, -12.5), (40.475, -12.5), (40.475, -11), (44.475, -11), (44.475, -12.5), (41.475, -12.5), (41.475, -18.5), (44.475, -18.5), (44.475, -20), (40.475, -20), (40.475, -18.5), (38.475, -18.5), align=None)
    extrude(amount=-CORTAR_EXTRUIR31_DEPTH, mode=Mode.SUBTRACT)


solid = part.part
